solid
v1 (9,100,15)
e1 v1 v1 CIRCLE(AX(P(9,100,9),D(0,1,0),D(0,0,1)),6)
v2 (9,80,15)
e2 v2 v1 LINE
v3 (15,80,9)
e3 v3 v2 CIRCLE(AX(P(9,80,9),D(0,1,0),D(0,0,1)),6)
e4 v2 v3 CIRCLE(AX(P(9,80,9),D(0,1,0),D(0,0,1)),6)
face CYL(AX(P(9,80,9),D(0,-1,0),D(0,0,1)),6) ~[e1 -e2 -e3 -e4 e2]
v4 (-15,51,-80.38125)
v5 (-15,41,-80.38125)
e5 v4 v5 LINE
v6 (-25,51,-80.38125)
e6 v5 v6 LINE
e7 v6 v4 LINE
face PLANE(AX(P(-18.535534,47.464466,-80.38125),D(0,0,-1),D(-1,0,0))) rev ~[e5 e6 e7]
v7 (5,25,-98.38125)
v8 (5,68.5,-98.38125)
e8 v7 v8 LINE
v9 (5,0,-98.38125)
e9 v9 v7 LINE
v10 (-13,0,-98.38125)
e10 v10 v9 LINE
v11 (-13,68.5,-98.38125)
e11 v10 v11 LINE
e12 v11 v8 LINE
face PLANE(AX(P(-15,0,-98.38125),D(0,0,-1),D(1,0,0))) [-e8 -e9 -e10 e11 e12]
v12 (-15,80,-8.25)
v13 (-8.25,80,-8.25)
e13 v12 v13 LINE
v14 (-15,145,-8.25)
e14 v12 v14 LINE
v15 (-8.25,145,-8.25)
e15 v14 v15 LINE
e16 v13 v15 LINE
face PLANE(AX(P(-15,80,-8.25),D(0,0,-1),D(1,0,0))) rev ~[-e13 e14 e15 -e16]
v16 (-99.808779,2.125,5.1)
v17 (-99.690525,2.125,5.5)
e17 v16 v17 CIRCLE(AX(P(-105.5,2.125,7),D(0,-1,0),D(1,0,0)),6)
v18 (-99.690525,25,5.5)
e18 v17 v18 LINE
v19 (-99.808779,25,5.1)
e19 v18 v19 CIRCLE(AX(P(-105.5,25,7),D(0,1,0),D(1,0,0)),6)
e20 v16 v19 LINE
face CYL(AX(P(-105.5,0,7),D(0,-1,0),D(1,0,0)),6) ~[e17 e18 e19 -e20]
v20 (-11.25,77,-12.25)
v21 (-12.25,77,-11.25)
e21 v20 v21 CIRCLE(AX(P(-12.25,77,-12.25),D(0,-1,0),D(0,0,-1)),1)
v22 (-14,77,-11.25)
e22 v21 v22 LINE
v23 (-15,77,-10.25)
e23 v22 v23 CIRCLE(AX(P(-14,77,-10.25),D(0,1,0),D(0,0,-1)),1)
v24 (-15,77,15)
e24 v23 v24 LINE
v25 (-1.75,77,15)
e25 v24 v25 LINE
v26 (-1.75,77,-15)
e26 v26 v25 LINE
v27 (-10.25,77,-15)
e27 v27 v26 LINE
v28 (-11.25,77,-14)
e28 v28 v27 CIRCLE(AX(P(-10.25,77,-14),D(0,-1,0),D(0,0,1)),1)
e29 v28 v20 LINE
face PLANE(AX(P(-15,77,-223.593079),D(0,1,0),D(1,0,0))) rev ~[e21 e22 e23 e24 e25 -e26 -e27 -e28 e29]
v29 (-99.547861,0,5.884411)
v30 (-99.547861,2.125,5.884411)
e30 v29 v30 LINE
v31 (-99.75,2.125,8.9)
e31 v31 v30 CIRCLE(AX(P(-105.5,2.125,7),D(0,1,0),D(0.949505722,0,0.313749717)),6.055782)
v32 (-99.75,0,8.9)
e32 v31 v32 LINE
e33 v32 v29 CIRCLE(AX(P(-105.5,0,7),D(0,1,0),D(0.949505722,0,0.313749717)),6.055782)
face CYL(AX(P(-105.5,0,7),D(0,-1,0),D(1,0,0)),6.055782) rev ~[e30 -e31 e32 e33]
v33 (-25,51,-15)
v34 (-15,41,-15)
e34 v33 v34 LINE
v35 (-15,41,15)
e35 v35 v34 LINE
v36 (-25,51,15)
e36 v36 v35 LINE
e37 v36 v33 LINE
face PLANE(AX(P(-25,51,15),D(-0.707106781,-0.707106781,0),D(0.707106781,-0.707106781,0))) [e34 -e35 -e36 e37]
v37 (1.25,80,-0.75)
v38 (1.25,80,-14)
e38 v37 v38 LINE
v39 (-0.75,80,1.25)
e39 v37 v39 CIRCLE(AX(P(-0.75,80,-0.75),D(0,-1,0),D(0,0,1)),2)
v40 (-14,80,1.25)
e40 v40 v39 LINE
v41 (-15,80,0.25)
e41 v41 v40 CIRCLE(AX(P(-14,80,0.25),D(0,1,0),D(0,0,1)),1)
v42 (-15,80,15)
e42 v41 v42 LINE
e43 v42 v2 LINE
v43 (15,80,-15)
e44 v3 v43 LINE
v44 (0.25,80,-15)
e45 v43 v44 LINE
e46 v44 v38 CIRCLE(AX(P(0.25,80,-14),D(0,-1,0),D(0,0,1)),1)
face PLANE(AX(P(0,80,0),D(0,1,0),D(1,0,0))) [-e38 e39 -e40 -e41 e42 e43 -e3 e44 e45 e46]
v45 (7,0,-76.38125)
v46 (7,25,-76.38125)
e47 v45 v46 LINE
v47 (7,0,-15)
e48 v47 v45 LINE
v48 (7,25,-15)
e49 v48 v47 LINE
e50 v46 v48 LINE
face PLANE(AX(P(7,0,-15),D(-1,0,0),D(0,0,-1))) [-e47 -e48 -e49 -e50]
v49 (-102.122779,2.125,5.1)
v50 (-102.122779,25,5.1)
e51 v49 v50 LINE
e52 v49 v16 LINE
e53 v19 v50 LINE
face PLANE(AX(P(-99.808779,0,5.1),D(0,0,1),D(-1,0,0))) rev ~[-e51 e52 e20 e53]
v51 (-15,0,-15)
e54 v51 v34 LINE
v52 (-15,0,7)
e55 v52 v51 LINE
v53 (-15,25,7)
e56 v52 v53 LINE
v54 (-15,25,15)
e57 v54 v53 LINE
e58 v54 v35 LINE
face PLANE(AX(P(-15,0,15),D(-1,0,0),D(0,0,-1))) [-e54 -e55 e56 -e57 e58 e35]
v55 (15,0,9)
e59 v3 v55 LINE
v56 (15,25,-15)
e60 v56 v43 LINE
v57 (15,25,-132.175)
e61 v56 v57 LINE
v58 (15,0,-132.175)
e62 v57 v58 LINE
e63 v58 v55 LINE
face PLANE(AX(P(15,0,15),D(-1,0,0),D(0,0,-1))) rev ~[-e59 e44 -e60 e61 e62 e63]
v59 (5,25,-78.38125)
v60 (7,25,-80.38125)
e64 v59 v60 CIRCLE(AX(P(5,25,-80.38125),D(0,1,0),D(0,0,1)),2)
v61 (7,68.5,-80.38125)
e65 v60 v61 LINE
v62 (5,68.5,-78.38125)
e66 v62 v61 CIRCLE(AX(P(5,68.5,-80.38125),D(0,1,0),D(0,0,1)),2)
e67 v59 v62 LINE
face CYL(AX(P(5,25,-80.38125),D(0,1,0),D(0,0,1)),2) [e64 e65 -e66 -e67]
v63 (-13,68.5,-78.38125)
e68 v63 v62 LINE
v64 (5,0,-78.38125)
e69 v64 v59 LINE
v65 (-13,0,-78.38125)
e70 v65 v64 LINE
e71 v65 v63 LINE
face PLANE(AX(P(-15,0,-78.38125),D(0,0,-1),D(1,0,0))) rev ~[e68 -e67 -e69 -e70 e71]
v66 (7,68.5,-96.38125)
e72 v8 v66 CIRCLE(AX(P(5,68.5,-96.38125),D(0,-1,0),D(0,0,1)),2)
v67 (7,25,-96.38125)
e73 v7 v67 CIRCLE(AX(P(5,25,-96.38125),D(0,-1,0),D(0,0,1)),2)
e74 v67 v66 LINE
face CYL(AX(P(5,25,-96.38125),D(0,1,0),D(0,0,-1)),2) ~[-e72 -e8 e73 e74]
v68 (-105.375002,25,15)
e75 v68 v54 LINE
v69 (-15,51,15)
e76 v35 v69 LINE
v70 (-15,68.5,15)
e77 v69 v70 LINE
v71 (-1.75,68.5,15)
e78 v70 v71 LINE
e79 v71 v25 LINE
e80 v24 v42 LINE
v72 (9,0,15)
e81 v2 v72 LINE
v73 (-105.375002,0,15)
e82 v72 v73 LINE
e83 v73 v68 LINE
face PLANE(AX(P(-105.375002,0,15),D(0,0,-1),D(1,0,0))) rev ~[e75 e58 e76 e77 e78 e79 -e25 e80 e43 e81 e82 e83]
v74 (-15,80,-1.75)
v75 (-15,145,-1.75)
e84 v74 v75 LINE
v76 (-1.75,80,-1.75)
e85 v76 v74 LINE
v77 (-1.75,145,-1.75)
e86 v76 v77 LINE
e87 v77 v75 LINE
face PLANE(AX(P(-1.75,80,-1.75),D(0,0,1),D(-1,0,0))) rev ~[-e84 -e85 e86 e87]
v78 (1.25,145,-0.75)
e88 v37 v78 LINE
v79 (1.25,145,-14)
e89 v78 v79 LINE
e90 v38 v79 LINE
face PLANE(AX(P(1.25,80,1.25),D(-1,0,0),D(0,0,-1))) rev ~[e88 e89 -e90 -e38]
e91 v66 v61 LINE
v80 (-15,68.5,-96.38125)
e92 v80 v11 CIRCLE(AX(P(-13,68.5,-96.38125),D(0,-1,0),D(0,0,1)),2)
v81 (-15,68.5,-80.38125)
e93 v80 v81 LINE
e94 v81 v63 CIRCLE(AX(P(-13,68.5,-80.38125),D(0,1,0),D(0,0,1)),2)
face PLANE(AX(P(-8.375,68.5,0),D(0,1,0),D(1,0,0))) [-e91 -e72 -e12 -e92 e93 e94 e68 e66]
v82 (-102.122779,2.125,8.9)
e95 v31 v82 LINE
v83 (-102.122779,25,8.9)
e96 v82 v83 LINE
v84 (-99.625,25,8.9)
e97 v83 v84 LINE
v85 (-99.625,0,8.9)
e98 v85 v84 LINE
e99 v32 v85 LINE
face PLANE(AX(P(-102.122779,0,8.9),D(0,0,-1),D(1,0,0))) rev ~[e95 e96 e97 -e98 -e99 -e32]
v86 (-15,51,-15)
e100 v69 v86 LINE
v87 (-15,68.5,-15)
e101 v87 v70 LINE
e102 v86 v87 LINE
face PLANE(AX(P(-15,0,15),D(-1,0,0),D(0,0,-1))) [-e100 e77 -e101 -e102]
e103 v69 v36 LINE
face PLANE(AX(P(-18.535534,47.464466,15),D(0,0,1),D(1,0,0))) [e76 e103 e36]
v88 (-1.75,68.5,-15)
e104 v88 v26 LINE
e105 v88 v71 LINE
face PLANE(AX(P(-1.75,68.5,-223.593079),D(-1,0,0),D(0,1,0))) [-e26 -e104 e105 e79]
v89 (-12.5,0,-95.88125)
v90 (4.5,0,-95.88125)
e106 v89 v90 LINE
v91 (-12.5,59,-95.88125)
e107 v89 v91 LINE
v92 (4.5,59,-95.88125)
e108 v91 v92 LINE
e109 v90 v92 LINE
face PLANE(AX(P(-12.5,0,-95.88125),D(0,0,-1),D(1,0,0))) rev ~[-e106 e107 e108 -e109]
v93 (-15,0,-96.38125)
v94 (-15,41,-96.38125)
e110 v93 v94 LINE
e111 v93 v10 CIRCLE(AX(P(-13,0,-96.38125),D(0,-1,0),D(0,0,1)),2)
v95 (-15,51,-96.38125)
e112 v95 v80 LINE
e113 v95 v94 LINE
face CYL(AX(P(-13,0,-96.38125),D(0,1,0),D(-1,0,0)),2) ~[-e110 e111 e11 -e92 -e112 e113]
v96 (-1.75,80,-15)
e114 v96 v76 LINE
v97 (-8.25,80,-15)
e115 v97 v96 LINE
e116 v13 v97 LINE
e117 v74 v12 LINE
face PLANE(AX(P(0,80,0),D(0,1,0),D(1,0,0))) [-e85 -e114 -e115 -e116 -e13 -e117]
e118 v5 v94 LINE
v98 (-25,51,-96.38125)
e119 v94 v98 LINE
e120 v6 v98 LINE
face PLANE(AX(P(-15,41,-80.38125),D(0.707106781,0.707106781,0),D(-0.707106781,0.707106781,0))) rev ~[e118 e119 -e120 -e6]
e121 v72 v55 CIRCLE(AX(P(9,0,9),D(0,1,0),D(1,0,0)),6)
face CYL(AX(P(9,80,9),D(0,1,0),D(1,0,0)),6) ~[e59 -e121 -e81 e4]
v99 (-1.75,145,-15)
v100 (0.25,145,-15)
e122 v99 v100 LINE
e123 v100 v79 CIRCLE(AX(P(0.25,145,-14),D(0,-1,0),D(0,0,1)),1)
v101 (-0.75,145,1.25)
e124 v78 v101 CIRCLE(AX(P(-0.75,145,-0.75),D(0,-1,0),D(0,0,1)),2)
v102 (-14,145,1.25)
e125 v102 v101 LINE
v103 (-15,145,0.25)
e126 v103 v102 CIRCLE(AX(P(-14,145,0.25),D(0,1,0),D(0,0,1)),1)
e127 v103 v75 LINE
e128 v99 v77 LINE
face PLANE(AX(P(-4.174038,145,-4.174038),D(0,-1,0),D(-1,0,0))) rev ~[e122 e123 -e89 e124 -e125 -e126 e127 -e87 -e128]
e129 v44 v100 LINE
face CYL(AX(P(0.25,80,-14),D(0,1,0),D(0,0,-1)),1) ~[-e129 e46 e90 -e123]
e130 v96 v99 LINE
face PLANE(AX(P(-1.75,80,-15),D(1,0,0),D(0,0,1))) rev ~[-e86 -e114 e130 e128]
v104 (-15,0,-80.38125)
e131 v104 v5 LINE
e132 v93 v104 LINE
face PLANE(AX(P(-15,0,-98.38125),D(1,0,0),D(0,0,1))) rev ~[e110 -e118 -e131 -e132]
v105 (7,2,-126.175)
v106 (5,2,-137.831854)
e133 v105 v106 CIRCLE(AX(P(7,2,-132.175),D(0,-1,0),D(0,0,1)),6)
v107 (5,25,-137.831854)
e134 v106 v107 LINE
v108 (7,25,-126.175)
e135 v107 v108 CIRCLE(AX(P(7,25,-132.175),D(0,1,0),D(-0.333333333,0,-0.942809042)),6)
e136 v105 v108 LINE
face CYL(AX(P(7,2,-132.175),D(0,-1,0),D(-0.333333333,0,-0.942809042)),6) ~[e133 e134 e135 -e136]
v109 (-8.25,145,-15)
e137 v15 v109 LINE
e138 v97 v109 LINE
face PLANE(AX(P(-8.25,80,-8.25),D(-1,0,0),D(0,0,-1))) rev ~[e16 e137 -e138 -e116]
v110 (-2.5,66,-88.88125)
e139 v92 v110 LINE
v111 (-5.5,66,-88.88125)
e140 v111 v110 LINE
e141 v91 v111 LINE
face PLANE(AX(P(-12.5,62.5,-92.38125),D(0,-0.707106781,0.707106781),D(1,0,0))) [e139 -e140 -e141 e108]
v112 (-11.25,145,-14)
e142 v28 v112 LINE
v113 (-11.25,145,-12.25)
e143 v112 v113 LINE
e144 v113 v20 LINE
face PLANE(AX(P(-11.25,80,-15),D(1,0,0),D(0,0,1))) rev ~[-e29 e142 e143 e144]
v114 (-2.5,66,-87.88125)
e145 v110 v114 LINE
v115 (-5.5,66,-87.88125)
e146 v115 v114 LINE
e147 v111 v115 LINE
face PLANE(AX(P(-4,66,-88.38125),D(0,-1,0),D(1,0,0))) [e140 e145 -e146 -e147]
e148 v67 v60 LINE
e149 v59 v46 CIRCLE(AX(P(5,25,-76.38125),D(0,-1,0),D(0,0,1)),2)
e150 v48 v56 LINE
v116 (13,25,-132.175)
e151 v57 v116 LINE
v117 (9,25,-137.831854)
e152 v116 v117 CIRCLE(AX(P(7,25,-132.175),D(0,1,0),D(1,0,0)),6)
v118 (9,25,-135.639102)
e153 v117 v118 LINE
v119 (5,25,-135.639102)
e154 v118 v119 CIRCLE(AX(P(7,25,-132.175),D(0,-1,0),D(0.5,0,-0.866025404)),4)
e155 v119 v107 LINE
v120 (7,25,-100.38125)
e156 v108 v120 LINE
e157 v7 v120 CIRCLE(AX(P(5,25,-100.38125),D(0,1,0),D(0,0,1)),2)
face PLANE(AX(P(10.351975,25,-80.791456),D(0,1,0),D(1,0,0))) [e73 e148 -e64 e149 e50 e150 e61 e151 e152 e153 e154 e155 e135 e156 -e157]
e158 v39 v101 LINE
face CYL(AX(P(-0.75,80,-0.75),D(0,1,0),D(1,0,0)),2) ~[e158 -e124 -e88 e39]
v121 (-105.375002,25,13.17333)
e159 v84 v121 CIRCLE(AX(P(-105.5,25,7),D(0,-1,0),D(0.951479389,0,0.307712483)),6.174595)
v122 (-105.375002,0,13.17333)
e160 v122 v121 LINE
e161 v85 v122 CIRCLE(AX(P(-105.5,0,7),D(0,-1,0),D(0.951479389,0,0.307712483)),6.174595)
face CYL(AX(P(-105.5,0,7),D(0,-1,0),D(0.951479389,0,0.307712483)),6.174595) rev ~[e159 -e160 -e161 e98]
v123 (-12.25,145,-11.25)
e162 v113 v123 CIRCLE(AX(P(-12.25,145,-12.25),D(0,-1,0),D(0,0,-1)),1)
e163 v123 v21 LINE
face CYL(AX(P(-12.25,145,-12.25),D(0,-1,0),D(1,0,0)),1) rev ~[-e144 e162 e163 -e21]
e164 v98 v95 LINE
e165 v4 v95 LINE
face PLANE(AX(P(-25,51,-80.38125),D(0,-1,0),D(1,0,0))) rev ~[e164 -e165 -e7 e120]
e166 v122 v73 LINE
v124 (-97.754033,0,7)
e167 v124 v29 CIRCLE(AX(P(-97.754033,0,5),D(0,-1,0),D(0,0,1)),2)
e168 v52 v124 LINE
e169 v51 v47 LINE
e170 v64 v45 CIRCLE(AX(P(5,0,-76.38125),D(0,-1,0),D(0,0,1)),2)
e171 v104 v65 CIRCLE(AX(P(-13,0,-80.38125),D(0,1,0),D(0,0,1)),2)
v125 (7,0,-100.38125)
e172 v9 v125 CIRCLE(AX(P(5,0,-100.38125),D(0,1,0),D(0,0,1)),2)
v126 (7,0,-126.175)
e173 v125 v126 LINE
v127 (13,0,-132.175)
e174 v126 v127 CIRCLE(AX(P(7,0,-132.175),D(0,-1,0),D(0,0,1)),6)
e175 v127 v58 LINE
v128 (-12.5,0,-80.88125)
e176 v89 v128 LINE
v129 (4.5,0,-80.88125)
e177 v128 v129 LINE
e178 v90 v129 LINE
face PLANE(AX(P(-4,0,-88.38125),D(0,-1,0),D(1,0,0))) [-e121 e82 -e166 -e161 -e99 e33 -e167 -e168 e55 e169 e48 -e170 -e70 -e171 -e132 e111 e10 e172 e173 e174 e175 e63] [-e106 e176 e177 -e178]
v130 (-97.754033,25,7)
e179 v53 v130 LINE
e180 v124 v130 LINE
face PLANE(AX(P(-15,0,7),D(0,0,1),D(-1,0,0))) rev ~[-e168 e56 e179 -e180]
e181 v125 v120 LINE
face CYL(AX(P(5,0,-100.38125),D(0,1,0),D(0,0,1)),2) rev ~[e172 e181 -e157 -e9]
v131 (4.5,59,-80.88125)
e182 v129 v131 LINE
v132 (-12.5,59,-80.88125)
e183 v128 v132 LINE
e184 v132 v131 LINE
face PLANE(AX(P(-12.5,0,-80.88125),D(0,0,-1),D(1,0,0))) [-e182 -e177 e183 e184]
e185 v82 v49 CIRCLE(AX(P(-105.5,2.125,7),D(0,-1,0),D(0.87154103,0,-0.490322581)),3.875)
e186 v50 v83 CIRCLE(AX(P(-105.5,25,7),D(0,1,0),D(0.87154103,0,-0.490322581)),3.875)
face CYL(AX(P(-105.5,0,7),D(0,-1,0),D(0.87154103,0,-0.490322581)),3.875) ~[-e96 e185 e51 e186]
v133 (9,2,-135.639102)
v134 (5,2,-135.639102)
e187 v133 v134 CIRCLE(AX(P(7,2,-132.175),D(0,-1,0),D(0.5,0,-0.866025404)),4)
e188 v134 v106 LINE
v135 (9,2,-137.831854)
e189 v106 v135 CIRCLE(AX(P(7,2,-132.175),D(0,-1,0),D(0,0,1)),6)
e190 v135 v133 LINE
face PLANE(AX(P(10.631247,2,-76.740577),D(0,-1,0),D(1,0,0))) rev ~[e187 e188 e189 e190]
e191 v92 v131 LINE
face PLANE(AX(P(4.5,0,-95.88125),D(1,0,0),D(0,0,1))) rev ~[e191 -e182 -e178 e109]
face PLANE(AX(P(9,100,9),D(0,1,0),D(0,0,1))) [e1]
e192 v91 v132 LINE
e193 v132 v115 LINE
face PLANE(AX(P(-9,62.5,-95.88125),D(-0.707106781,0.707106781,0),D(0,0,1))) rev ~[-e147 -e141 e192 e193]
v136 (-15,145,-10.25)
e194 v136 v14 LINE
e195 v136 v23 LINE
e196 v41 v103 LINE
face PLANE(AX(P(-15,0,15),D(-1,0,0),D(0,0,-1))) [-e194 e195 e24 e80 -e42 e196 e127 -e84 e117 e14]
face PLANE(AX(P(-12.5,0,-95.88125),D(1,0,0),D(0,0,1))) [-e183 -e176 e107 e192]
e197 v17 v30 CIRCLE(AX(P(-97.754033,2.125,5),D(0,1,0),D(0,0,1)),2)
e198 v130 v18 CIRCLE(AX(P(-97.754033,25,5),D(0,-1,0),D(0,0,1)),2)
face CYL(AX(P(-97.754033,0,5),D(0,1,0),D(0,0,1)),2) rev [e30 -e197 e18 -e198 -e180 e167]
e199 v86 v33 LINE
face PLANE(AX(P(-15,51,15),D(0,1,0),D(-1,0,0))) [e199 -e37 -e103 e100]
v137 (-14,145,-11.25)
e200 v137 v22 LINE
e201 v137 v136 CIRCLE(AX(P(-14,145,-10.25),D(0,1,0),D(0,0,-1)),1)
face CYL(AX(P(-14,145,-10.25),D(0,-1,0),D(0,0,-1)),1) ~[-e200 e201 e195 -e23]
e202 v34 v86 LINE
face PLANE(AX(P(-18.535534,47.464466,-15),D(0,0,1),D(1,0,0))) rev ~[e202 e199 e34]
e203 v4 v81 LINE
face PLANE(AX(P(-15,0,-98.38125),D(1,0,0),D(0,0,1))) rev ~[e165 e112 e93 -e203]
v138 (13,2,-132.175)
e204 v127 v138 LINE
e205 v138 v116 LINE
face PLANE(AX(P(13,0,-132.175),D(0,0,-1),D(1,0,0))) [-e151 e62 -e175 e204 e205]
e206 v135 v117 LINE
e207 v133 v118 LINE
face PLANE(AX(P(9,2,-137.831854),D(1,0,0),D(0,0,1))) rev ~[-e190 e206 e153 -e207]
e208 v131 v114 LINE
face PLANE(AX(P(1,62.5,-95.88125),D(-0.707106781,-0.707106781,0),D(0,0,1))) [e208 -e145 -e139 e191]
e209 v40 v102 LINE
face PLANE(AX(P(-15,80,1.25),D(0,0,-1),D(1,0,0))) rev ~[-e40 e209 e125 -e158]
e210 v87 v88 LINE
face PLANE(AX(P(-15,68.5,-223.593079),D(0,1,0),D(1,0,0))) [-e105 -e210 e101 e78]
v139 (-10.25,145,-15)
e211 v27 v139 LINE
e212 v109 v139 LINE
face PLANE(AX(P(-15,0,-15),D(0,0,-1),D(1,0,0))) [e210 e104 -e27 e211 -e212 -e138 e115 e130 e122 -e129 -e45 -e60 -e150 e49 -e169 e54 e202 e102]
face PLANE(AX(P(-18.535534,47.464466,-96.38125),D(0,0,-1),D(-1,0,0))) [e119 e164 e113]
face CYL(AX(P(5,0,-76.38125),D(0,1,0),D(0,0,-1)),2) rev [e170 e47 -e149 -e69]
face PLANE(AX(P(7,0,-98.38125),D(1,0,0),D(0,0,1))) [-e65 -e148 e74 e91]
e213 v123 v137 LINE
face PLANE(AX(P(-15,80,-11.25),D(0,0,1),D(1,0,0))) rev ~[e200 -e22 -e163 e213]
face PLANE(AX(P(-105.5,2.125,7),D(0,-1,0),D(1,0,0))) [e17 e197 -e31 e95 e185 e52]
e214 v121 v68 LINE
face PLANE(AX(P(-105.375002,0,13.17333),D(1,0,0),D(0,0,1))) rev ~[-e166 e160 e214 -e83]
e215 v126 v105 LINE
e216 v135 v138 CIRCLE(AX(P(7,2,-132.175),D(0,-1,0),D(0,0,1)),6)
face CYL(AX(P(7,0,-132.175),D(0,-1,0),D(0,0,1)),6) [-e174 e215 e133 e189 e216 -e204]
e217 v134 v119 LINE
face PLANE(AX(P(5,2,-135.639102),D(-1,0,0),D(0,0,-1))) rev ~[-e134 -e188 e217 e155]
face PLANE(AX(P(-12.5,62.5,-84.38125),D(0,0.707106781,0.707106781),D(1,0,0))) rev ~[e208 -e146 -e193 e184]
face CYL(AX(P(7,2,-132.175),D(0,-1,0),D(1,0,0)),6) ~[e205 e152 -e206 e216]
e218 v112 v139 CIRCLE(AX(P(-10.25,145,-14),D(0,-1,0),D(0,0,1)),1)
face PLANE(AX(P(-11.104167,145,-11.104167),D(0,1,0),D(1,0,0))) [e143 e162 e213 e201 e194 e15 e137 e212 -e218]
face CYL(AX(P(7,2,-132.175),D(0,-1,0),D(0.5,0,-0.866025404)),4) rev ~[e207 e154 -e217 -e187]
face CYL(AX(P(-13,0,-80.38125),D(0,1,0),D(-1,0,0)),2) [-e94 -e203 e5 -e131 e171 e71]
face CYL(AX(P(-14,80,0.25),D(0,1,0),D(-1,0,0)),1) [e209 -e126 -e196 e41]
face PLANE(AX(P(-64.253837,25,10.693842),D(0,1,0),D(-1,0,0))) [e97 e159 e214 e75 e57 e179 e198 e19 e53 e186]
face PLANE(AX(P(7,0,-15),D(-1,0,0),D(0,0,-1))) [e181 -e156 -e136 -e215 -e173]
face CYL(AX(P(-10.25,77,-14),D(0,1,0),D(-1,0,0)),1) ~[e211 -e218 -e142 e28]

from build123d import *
from build123d.topology import SkipClean

# Parameters (mm, degrees)
SKETCH1_W                 = 30
SKETCH1_H                 = 30
BOSS_EXTRUDE1_DEPTH       = 80
SKETCH2_R                 = 6
BOSS_EXTRUDE2_DEPTH       = 20
CUT_EXTRUDE1_DEPTH        = 83.764726786
BOSS_EXTRUDE3_DEPTH       = 65
BOSS_EXTRUDE5_DEPTH       = 2
BOSS_EXTRUDE6_DEPTH       = 23
BOSS_EXTRUDE7_DEPTH       = 25
FILLET1_R                 = 2
SKETCH11_R                = 6.055782361
CUT_EXTRUDE2_DEPTH        = 2.125
CUT_EXTRUDE4_DEPTH        = 238.593079129
CUT_EXTRUDE4_DEPTH_BACK   = 238.593079129
SKETCH13_W                = 13.25
SKETCH13_H                = 8.5
FILLET2_R                 = 2
CUT_EXTRUDE6_REACH        = 195.534
SKETCH16_W                = 3.75
SKETCH16_H                = 3.75
FILLET4_R                 = 1
BOSS_EXTRUDE8_REACH       = 230.211
SKETCH17_W                = 22
SKETCH17_H                = 20
SKETCH18_W                = 17
SKETCH18_H                = 15
CUT_EXTRUDE7_DEPTH        = 66
FILLET5_R                 = 2
FILLET6_R                 = 2
CHAMFER1_SIZE             = 7
BOSS_EXTRUDE9_DEPTH       = 30
BOSS_EXTRUDE10_DEPTH      = 8
BOSS_EXTRUDE10_DEPTH_BACK = 8


with BuildPart() as part:
    # Sketch1 → Boss-Extrude1 (new body)
    with BuildSketch(Plane(origin=(0, 0, 0), x_dir=(1, 0, 0), z_dir=(0, 1, 0))):
        Rectangle(SKETCH1_W, SKETCH1_H)
    extrude(amount=BOSS_EXTRUDE1_DEPTH)

    # Sketch2 → Boss-Extrude2 (add)
    with BuildSketch(Plane(origin=(0, 80, 0), x_dir=(1, 0, 0), z_dir=(0, 1, 0))):
        with Locations(Location((9, -9, 0), (0, 0, 270))):
            Circle(SKETCH2_R)
    extrude(amount=BOSS_EXTRUDE2_DEPTH)

    # Sketch3 → Cut-Extrude1 (cut, through all)
    with BuildSketch(Plane(origin=(0, 80, 0), x_dir=(1, 0, 0), z_dir=(0, 1, 0))):
        with BuildLine():
            Line((9, -15), (15, -15))
            Line((15, -15), (15, -9))
            ThreePointArc((15, -9), (13.242640687, -13.242640687), (9, -15))
        make_face()
    extrude(amount=-CUT_EXTRUDE1_DEPTH, mode=Mode.SUBTRACT)

    # Sketch4 → Boss-Extrude3 (add)
    with BuildSketch(Plane(origin=(0, 80, 0), x_dir=(1, 0, 0), z_dir=(0, 1, 0))):
        Polygon((-11.25, 1.75), (-1.75, 1.75), (-1.75, 11.25), (-1.75, 15), (1.25, 15), (1.25, 11.25), (1.25, -1.25), (-11.25, -1.25), (-15, -1.25), (-15, 1.75), align=None)
        Polygon((-11.25, 8.25), (-8.25, 8.25), (-8.25, 11.25), (-8.25, 15), (-11.25, 15), (-11.25, 11.25), (-15, 11.25), (-15, 8.25), align=None)
    extrude(amount=BOSS_EXTRUDE3_DEPTH)

    # Sketch6 → Boss-Extrude5 (add)
    with BuildSketch(Plane.XZ):
        with BuildLine():
            Line((15, -15), (7, -15))
            Line((7, -15), (7, -126.175))
            ThreePointArc((7, -126.175), (2.757359313, -136.417640687), (13, -132.175))
            Line((13, -132.175), (15, -132.175))
            Line((15, -132.175), (15, -15))
        make_face()
    extrude(amount=-BOSS_EXTRUDE5_DEPTH)

    # Sketch7 → Boss-Extrude6 (add)
    with SkipClean():  # the faces are left unmerged after this step: merging them gives an invalid solid
        with BuildSketch(Plane(origin=(0, 2, 0), x_dir=(1, 0, 0), z_dir=(0, 1, 0))):
            with BuildLine():
                Line((9, 137.831854249), (9, 135.639101615))
                ThreePointArc((9, 135.639101615), (7, 128.175), (5, 135.639101615))
                Line((5, 135.639101615), (5, 137.831854249))
                ThreePointArc((5, 137.831854249), (1.086408642, 131.160388128), (7, 126.175))
                Line((7, 126.175), (7, 15))
                Line((7, 15), (15, 15))
                Line((15, 15), (15, 132.175))
                Line((15, 132.175), (13, 132.175))
                ThreePointArc((13, 132.175), (11.898979486, 135.639101615), (9, 137.831854249))
            make_face()
        extrude(amount=BOSS_EXTRUDE6_DEPTH)

    # Sketch9 → Boss-Extrude7 (add)
    with SkipClean():  # the faces are left unmerged after this step: merging them gives an invalid solid
        with BuildSketch(Plane.XZ):
            with BuildLine():
                Line((-15, 15), (-15, 7))
                Line((-15, 7), (-99.5, 7))
                ThreePointArc((-99.5, 7), (-99.577697751, 6.037536458), (-99.80877869, 5.1))
                Line((-99.80877869, 5.1), (-102.122778509, 5.1))
                ThreePointArc((-102.122778509, 5.1), (-109.375, 7), (-102.122778509, 8.9))
                Line((-102.122778509, 8.9), (-99.625, 8.9))
                ThreePointArc((-99.625, 8.9), (-101.816885554, 11.955834237), (-105.375001601, 13.173329766))
                Line((-105.375001601, 13.173329766), (-105.375001601, 15))
                Line((-105.375001601, 15), (-15, 15))
            make_face()
        extrude(amount=-BOSS_EXTRUDE7_DEPTH)

    # Fillet1
    fillet1_edges = [part.edges().sort_by_distance(p)[0] for p in [
        (-99.5, 12.5, 7),
    ]]
    fillet(fillet1_edges, radius=FILLET1_R)

    # Sketch11 → Cut-Extrude2 (cut)
    with SkipClean():  # the faces are left unmerged after this step: merging them gives an invalid solid
        with BuildSketch(Plane.XZ):
            with Locations((-105.5, 7)):
                Circle(SKETCH11_R)
        extrude(amount=-CUT_EXTRUDE2_DEPTH, mode=Mode.SUBTRACT)

    # Sketch13 → Cut-Extrude4 (cut, two sides: drawn at the far end of the back side and taken through both)
    with SkipClean():  # the faces are left unmerged after this step: merging them gives an invalid solid
        with BuildSketch(Plane.XY.offset(15).offset(-CUT_EXTRUDE4_DEPTH_BACK)):
            with Locations((-8.375, 72.75)):
                Rectangle(SKETCH13_W, SKETCH13_H)
        extrude(amount=CUT_EXTRUDE4_DEPTH + CUT_EXTRUDE4_DEPTH_BACK, mode=Mode.SUBTRACT)

    # Fillet2
    fillet2_edges = [part.edges().sort_by_distance(p)[0] for p in [
        (1.25, 112.5, 1.25),
    ]]
    fillet(fillet2_edges, radius=FILLET2_R)

    # Sketch16 → Cut-Extrude6 (cut, up to next)
    with BuildSketch(Plane(origin=(0, 80, 0), x_dir=(1, 0, 0), z_dir=(0, 1, 0)), mode=Mode.PRIVATE) as cut_extrude6_sk1:
        with Locations((-13.125, 13.125)):
            Rectangle(SKETCH16_W, SKETCH16_H)
    cut_extrude6_tool1 = extrude(cut_extrude6_sk1.sketch, amount=-CUT_EXTRUDE6_REACH, mode=Mode.PRIVATE) & part.part
    add(cut_extrude6_tool1.solids().sort_by_distance((-13.125, 80, -13.125))[0], mode=Mode.SUBTRACT)

    # Fillet4
    fillet4_edges = [part.edges().sort_by_distance(p)[0] for p in [
        (-11.25, 112.5, -11.25),
        (-15, 112.5, -11.25),
        (-11.25, 112.5, -15),
        (-15, 112.5, 1.25),
        (1.25, 112.5, -15),
    ]]
    fillet(fillet4_edges, radius=FILLET4_R)

    # Boss-Extrude8: up to this face of the body (flat: up to its plane)
    boss_extrude8_end = Plane(part.part.faces().sort_by_distance((-8.375, 68.5, 0))[0])
    # Sketch17 → Boss-Extrude8 (add, up to the picked face)
    with BuildSketch(Plane.XZ, mode=Mode.PRIVATE) as boss_extrude8_sk1:
        with Locations((-4, -88.38125)):
            Rectangle(SKETCH17_W, SKETCH17_H)
    boss_extrude8_tool1 = split(extrude(boss_extrude8_sk1.sketch, amount=-BOSS_EXTRUDE8_REACH, mode=Mode.PRIVATE), bisect_by=boss_extrude8_end, keep=Keep.BOTH, mode=Mode.PRIVATE)
    add(boss_extrude8_tool1.solids().sort_by(Axis((-4, 0, -88.38125), (0, 1, 0)))[0])

    # Sketch18 → Cut-Extrude7 (cut)
    with SkipClean():  # the faces are left unmerged after this step: merging them gives an invalid solid
        with BuildSketch(Plane.XZ):
            with Locations((-4, -88.38125)):
                Rectangle(SKETCH18_W, SKETCH18_H)
        extrude(amount=-CUT_EXTRUDE7_DEPTH, mode=Mode.SUBTRACT)

    # Fillet5
    fillet5_edges = [part.edges().sort_by_distance(p)[0] for p in [
        (7, 13.5, -78.38125),
        (7, 13.5, -98.38125),
        (-15, 34.25, -98.38125),
        (-15, 34.25, -78.38125),
    ]]
    fillet(fillet5_edges, radius=FILLET5_R)

    # Fillet6
    fillet6_edges = [part.edges().sort_by_distance(p)[0] for p in [
        (7, 46.75, -78.38125),
        (7, 46.75, -98.38125),
    ]]
    fillet(fillet6_edges, radius=FILLET6_R)

    # Chamfer1
    chamfer1_edges = [part.edges().sort_by_distance(p)[0] for p in [
        (-12.5, 66, -88.38125),
        (-4, 66, -80.88125),
        (4.5, 66, -88.38125),
        (-4, 66, -95.88125),
    ]]
    chamfer(chamfer1_edges, length=CHAMFER1_SIZE)

    # Sketch19 → Boss-Extrude9 (add)
    with SkipClean():  # the faces are left unmerged after this step: merging them gives an invalid solid
        with BuildSketch(Plane.XY.offset(15)):
            Polygon((-15, 51), (-25, 51), (-15, 41), align=None)
        extrude(amount=-BOSS_EXTRUDE9_DEPTH)

    # Sketch20 → Boss-Extrude10 (add, two sides: drawn at the far end of the back side and taken through both)
    with SkipClean():  # the faces are left unmerged after this step: merging them gives an invalid solid
        with BuildSketch(Plane(origin=(0, 0, -88.38125), x_dir=(-1, 0, 0), z_dir=(0, 0, -1)).offset(-BOSS_EXTRUDE10_DEPTH_BACK)):
            Polygon((25, 51), (15, 51), (15, 41), align=None)
        extrude(amount=BOSS_EXTRUDE10_DEPTH + BOSS_EXTRUDE10_DEPTH_BACK)


solid = part.part
